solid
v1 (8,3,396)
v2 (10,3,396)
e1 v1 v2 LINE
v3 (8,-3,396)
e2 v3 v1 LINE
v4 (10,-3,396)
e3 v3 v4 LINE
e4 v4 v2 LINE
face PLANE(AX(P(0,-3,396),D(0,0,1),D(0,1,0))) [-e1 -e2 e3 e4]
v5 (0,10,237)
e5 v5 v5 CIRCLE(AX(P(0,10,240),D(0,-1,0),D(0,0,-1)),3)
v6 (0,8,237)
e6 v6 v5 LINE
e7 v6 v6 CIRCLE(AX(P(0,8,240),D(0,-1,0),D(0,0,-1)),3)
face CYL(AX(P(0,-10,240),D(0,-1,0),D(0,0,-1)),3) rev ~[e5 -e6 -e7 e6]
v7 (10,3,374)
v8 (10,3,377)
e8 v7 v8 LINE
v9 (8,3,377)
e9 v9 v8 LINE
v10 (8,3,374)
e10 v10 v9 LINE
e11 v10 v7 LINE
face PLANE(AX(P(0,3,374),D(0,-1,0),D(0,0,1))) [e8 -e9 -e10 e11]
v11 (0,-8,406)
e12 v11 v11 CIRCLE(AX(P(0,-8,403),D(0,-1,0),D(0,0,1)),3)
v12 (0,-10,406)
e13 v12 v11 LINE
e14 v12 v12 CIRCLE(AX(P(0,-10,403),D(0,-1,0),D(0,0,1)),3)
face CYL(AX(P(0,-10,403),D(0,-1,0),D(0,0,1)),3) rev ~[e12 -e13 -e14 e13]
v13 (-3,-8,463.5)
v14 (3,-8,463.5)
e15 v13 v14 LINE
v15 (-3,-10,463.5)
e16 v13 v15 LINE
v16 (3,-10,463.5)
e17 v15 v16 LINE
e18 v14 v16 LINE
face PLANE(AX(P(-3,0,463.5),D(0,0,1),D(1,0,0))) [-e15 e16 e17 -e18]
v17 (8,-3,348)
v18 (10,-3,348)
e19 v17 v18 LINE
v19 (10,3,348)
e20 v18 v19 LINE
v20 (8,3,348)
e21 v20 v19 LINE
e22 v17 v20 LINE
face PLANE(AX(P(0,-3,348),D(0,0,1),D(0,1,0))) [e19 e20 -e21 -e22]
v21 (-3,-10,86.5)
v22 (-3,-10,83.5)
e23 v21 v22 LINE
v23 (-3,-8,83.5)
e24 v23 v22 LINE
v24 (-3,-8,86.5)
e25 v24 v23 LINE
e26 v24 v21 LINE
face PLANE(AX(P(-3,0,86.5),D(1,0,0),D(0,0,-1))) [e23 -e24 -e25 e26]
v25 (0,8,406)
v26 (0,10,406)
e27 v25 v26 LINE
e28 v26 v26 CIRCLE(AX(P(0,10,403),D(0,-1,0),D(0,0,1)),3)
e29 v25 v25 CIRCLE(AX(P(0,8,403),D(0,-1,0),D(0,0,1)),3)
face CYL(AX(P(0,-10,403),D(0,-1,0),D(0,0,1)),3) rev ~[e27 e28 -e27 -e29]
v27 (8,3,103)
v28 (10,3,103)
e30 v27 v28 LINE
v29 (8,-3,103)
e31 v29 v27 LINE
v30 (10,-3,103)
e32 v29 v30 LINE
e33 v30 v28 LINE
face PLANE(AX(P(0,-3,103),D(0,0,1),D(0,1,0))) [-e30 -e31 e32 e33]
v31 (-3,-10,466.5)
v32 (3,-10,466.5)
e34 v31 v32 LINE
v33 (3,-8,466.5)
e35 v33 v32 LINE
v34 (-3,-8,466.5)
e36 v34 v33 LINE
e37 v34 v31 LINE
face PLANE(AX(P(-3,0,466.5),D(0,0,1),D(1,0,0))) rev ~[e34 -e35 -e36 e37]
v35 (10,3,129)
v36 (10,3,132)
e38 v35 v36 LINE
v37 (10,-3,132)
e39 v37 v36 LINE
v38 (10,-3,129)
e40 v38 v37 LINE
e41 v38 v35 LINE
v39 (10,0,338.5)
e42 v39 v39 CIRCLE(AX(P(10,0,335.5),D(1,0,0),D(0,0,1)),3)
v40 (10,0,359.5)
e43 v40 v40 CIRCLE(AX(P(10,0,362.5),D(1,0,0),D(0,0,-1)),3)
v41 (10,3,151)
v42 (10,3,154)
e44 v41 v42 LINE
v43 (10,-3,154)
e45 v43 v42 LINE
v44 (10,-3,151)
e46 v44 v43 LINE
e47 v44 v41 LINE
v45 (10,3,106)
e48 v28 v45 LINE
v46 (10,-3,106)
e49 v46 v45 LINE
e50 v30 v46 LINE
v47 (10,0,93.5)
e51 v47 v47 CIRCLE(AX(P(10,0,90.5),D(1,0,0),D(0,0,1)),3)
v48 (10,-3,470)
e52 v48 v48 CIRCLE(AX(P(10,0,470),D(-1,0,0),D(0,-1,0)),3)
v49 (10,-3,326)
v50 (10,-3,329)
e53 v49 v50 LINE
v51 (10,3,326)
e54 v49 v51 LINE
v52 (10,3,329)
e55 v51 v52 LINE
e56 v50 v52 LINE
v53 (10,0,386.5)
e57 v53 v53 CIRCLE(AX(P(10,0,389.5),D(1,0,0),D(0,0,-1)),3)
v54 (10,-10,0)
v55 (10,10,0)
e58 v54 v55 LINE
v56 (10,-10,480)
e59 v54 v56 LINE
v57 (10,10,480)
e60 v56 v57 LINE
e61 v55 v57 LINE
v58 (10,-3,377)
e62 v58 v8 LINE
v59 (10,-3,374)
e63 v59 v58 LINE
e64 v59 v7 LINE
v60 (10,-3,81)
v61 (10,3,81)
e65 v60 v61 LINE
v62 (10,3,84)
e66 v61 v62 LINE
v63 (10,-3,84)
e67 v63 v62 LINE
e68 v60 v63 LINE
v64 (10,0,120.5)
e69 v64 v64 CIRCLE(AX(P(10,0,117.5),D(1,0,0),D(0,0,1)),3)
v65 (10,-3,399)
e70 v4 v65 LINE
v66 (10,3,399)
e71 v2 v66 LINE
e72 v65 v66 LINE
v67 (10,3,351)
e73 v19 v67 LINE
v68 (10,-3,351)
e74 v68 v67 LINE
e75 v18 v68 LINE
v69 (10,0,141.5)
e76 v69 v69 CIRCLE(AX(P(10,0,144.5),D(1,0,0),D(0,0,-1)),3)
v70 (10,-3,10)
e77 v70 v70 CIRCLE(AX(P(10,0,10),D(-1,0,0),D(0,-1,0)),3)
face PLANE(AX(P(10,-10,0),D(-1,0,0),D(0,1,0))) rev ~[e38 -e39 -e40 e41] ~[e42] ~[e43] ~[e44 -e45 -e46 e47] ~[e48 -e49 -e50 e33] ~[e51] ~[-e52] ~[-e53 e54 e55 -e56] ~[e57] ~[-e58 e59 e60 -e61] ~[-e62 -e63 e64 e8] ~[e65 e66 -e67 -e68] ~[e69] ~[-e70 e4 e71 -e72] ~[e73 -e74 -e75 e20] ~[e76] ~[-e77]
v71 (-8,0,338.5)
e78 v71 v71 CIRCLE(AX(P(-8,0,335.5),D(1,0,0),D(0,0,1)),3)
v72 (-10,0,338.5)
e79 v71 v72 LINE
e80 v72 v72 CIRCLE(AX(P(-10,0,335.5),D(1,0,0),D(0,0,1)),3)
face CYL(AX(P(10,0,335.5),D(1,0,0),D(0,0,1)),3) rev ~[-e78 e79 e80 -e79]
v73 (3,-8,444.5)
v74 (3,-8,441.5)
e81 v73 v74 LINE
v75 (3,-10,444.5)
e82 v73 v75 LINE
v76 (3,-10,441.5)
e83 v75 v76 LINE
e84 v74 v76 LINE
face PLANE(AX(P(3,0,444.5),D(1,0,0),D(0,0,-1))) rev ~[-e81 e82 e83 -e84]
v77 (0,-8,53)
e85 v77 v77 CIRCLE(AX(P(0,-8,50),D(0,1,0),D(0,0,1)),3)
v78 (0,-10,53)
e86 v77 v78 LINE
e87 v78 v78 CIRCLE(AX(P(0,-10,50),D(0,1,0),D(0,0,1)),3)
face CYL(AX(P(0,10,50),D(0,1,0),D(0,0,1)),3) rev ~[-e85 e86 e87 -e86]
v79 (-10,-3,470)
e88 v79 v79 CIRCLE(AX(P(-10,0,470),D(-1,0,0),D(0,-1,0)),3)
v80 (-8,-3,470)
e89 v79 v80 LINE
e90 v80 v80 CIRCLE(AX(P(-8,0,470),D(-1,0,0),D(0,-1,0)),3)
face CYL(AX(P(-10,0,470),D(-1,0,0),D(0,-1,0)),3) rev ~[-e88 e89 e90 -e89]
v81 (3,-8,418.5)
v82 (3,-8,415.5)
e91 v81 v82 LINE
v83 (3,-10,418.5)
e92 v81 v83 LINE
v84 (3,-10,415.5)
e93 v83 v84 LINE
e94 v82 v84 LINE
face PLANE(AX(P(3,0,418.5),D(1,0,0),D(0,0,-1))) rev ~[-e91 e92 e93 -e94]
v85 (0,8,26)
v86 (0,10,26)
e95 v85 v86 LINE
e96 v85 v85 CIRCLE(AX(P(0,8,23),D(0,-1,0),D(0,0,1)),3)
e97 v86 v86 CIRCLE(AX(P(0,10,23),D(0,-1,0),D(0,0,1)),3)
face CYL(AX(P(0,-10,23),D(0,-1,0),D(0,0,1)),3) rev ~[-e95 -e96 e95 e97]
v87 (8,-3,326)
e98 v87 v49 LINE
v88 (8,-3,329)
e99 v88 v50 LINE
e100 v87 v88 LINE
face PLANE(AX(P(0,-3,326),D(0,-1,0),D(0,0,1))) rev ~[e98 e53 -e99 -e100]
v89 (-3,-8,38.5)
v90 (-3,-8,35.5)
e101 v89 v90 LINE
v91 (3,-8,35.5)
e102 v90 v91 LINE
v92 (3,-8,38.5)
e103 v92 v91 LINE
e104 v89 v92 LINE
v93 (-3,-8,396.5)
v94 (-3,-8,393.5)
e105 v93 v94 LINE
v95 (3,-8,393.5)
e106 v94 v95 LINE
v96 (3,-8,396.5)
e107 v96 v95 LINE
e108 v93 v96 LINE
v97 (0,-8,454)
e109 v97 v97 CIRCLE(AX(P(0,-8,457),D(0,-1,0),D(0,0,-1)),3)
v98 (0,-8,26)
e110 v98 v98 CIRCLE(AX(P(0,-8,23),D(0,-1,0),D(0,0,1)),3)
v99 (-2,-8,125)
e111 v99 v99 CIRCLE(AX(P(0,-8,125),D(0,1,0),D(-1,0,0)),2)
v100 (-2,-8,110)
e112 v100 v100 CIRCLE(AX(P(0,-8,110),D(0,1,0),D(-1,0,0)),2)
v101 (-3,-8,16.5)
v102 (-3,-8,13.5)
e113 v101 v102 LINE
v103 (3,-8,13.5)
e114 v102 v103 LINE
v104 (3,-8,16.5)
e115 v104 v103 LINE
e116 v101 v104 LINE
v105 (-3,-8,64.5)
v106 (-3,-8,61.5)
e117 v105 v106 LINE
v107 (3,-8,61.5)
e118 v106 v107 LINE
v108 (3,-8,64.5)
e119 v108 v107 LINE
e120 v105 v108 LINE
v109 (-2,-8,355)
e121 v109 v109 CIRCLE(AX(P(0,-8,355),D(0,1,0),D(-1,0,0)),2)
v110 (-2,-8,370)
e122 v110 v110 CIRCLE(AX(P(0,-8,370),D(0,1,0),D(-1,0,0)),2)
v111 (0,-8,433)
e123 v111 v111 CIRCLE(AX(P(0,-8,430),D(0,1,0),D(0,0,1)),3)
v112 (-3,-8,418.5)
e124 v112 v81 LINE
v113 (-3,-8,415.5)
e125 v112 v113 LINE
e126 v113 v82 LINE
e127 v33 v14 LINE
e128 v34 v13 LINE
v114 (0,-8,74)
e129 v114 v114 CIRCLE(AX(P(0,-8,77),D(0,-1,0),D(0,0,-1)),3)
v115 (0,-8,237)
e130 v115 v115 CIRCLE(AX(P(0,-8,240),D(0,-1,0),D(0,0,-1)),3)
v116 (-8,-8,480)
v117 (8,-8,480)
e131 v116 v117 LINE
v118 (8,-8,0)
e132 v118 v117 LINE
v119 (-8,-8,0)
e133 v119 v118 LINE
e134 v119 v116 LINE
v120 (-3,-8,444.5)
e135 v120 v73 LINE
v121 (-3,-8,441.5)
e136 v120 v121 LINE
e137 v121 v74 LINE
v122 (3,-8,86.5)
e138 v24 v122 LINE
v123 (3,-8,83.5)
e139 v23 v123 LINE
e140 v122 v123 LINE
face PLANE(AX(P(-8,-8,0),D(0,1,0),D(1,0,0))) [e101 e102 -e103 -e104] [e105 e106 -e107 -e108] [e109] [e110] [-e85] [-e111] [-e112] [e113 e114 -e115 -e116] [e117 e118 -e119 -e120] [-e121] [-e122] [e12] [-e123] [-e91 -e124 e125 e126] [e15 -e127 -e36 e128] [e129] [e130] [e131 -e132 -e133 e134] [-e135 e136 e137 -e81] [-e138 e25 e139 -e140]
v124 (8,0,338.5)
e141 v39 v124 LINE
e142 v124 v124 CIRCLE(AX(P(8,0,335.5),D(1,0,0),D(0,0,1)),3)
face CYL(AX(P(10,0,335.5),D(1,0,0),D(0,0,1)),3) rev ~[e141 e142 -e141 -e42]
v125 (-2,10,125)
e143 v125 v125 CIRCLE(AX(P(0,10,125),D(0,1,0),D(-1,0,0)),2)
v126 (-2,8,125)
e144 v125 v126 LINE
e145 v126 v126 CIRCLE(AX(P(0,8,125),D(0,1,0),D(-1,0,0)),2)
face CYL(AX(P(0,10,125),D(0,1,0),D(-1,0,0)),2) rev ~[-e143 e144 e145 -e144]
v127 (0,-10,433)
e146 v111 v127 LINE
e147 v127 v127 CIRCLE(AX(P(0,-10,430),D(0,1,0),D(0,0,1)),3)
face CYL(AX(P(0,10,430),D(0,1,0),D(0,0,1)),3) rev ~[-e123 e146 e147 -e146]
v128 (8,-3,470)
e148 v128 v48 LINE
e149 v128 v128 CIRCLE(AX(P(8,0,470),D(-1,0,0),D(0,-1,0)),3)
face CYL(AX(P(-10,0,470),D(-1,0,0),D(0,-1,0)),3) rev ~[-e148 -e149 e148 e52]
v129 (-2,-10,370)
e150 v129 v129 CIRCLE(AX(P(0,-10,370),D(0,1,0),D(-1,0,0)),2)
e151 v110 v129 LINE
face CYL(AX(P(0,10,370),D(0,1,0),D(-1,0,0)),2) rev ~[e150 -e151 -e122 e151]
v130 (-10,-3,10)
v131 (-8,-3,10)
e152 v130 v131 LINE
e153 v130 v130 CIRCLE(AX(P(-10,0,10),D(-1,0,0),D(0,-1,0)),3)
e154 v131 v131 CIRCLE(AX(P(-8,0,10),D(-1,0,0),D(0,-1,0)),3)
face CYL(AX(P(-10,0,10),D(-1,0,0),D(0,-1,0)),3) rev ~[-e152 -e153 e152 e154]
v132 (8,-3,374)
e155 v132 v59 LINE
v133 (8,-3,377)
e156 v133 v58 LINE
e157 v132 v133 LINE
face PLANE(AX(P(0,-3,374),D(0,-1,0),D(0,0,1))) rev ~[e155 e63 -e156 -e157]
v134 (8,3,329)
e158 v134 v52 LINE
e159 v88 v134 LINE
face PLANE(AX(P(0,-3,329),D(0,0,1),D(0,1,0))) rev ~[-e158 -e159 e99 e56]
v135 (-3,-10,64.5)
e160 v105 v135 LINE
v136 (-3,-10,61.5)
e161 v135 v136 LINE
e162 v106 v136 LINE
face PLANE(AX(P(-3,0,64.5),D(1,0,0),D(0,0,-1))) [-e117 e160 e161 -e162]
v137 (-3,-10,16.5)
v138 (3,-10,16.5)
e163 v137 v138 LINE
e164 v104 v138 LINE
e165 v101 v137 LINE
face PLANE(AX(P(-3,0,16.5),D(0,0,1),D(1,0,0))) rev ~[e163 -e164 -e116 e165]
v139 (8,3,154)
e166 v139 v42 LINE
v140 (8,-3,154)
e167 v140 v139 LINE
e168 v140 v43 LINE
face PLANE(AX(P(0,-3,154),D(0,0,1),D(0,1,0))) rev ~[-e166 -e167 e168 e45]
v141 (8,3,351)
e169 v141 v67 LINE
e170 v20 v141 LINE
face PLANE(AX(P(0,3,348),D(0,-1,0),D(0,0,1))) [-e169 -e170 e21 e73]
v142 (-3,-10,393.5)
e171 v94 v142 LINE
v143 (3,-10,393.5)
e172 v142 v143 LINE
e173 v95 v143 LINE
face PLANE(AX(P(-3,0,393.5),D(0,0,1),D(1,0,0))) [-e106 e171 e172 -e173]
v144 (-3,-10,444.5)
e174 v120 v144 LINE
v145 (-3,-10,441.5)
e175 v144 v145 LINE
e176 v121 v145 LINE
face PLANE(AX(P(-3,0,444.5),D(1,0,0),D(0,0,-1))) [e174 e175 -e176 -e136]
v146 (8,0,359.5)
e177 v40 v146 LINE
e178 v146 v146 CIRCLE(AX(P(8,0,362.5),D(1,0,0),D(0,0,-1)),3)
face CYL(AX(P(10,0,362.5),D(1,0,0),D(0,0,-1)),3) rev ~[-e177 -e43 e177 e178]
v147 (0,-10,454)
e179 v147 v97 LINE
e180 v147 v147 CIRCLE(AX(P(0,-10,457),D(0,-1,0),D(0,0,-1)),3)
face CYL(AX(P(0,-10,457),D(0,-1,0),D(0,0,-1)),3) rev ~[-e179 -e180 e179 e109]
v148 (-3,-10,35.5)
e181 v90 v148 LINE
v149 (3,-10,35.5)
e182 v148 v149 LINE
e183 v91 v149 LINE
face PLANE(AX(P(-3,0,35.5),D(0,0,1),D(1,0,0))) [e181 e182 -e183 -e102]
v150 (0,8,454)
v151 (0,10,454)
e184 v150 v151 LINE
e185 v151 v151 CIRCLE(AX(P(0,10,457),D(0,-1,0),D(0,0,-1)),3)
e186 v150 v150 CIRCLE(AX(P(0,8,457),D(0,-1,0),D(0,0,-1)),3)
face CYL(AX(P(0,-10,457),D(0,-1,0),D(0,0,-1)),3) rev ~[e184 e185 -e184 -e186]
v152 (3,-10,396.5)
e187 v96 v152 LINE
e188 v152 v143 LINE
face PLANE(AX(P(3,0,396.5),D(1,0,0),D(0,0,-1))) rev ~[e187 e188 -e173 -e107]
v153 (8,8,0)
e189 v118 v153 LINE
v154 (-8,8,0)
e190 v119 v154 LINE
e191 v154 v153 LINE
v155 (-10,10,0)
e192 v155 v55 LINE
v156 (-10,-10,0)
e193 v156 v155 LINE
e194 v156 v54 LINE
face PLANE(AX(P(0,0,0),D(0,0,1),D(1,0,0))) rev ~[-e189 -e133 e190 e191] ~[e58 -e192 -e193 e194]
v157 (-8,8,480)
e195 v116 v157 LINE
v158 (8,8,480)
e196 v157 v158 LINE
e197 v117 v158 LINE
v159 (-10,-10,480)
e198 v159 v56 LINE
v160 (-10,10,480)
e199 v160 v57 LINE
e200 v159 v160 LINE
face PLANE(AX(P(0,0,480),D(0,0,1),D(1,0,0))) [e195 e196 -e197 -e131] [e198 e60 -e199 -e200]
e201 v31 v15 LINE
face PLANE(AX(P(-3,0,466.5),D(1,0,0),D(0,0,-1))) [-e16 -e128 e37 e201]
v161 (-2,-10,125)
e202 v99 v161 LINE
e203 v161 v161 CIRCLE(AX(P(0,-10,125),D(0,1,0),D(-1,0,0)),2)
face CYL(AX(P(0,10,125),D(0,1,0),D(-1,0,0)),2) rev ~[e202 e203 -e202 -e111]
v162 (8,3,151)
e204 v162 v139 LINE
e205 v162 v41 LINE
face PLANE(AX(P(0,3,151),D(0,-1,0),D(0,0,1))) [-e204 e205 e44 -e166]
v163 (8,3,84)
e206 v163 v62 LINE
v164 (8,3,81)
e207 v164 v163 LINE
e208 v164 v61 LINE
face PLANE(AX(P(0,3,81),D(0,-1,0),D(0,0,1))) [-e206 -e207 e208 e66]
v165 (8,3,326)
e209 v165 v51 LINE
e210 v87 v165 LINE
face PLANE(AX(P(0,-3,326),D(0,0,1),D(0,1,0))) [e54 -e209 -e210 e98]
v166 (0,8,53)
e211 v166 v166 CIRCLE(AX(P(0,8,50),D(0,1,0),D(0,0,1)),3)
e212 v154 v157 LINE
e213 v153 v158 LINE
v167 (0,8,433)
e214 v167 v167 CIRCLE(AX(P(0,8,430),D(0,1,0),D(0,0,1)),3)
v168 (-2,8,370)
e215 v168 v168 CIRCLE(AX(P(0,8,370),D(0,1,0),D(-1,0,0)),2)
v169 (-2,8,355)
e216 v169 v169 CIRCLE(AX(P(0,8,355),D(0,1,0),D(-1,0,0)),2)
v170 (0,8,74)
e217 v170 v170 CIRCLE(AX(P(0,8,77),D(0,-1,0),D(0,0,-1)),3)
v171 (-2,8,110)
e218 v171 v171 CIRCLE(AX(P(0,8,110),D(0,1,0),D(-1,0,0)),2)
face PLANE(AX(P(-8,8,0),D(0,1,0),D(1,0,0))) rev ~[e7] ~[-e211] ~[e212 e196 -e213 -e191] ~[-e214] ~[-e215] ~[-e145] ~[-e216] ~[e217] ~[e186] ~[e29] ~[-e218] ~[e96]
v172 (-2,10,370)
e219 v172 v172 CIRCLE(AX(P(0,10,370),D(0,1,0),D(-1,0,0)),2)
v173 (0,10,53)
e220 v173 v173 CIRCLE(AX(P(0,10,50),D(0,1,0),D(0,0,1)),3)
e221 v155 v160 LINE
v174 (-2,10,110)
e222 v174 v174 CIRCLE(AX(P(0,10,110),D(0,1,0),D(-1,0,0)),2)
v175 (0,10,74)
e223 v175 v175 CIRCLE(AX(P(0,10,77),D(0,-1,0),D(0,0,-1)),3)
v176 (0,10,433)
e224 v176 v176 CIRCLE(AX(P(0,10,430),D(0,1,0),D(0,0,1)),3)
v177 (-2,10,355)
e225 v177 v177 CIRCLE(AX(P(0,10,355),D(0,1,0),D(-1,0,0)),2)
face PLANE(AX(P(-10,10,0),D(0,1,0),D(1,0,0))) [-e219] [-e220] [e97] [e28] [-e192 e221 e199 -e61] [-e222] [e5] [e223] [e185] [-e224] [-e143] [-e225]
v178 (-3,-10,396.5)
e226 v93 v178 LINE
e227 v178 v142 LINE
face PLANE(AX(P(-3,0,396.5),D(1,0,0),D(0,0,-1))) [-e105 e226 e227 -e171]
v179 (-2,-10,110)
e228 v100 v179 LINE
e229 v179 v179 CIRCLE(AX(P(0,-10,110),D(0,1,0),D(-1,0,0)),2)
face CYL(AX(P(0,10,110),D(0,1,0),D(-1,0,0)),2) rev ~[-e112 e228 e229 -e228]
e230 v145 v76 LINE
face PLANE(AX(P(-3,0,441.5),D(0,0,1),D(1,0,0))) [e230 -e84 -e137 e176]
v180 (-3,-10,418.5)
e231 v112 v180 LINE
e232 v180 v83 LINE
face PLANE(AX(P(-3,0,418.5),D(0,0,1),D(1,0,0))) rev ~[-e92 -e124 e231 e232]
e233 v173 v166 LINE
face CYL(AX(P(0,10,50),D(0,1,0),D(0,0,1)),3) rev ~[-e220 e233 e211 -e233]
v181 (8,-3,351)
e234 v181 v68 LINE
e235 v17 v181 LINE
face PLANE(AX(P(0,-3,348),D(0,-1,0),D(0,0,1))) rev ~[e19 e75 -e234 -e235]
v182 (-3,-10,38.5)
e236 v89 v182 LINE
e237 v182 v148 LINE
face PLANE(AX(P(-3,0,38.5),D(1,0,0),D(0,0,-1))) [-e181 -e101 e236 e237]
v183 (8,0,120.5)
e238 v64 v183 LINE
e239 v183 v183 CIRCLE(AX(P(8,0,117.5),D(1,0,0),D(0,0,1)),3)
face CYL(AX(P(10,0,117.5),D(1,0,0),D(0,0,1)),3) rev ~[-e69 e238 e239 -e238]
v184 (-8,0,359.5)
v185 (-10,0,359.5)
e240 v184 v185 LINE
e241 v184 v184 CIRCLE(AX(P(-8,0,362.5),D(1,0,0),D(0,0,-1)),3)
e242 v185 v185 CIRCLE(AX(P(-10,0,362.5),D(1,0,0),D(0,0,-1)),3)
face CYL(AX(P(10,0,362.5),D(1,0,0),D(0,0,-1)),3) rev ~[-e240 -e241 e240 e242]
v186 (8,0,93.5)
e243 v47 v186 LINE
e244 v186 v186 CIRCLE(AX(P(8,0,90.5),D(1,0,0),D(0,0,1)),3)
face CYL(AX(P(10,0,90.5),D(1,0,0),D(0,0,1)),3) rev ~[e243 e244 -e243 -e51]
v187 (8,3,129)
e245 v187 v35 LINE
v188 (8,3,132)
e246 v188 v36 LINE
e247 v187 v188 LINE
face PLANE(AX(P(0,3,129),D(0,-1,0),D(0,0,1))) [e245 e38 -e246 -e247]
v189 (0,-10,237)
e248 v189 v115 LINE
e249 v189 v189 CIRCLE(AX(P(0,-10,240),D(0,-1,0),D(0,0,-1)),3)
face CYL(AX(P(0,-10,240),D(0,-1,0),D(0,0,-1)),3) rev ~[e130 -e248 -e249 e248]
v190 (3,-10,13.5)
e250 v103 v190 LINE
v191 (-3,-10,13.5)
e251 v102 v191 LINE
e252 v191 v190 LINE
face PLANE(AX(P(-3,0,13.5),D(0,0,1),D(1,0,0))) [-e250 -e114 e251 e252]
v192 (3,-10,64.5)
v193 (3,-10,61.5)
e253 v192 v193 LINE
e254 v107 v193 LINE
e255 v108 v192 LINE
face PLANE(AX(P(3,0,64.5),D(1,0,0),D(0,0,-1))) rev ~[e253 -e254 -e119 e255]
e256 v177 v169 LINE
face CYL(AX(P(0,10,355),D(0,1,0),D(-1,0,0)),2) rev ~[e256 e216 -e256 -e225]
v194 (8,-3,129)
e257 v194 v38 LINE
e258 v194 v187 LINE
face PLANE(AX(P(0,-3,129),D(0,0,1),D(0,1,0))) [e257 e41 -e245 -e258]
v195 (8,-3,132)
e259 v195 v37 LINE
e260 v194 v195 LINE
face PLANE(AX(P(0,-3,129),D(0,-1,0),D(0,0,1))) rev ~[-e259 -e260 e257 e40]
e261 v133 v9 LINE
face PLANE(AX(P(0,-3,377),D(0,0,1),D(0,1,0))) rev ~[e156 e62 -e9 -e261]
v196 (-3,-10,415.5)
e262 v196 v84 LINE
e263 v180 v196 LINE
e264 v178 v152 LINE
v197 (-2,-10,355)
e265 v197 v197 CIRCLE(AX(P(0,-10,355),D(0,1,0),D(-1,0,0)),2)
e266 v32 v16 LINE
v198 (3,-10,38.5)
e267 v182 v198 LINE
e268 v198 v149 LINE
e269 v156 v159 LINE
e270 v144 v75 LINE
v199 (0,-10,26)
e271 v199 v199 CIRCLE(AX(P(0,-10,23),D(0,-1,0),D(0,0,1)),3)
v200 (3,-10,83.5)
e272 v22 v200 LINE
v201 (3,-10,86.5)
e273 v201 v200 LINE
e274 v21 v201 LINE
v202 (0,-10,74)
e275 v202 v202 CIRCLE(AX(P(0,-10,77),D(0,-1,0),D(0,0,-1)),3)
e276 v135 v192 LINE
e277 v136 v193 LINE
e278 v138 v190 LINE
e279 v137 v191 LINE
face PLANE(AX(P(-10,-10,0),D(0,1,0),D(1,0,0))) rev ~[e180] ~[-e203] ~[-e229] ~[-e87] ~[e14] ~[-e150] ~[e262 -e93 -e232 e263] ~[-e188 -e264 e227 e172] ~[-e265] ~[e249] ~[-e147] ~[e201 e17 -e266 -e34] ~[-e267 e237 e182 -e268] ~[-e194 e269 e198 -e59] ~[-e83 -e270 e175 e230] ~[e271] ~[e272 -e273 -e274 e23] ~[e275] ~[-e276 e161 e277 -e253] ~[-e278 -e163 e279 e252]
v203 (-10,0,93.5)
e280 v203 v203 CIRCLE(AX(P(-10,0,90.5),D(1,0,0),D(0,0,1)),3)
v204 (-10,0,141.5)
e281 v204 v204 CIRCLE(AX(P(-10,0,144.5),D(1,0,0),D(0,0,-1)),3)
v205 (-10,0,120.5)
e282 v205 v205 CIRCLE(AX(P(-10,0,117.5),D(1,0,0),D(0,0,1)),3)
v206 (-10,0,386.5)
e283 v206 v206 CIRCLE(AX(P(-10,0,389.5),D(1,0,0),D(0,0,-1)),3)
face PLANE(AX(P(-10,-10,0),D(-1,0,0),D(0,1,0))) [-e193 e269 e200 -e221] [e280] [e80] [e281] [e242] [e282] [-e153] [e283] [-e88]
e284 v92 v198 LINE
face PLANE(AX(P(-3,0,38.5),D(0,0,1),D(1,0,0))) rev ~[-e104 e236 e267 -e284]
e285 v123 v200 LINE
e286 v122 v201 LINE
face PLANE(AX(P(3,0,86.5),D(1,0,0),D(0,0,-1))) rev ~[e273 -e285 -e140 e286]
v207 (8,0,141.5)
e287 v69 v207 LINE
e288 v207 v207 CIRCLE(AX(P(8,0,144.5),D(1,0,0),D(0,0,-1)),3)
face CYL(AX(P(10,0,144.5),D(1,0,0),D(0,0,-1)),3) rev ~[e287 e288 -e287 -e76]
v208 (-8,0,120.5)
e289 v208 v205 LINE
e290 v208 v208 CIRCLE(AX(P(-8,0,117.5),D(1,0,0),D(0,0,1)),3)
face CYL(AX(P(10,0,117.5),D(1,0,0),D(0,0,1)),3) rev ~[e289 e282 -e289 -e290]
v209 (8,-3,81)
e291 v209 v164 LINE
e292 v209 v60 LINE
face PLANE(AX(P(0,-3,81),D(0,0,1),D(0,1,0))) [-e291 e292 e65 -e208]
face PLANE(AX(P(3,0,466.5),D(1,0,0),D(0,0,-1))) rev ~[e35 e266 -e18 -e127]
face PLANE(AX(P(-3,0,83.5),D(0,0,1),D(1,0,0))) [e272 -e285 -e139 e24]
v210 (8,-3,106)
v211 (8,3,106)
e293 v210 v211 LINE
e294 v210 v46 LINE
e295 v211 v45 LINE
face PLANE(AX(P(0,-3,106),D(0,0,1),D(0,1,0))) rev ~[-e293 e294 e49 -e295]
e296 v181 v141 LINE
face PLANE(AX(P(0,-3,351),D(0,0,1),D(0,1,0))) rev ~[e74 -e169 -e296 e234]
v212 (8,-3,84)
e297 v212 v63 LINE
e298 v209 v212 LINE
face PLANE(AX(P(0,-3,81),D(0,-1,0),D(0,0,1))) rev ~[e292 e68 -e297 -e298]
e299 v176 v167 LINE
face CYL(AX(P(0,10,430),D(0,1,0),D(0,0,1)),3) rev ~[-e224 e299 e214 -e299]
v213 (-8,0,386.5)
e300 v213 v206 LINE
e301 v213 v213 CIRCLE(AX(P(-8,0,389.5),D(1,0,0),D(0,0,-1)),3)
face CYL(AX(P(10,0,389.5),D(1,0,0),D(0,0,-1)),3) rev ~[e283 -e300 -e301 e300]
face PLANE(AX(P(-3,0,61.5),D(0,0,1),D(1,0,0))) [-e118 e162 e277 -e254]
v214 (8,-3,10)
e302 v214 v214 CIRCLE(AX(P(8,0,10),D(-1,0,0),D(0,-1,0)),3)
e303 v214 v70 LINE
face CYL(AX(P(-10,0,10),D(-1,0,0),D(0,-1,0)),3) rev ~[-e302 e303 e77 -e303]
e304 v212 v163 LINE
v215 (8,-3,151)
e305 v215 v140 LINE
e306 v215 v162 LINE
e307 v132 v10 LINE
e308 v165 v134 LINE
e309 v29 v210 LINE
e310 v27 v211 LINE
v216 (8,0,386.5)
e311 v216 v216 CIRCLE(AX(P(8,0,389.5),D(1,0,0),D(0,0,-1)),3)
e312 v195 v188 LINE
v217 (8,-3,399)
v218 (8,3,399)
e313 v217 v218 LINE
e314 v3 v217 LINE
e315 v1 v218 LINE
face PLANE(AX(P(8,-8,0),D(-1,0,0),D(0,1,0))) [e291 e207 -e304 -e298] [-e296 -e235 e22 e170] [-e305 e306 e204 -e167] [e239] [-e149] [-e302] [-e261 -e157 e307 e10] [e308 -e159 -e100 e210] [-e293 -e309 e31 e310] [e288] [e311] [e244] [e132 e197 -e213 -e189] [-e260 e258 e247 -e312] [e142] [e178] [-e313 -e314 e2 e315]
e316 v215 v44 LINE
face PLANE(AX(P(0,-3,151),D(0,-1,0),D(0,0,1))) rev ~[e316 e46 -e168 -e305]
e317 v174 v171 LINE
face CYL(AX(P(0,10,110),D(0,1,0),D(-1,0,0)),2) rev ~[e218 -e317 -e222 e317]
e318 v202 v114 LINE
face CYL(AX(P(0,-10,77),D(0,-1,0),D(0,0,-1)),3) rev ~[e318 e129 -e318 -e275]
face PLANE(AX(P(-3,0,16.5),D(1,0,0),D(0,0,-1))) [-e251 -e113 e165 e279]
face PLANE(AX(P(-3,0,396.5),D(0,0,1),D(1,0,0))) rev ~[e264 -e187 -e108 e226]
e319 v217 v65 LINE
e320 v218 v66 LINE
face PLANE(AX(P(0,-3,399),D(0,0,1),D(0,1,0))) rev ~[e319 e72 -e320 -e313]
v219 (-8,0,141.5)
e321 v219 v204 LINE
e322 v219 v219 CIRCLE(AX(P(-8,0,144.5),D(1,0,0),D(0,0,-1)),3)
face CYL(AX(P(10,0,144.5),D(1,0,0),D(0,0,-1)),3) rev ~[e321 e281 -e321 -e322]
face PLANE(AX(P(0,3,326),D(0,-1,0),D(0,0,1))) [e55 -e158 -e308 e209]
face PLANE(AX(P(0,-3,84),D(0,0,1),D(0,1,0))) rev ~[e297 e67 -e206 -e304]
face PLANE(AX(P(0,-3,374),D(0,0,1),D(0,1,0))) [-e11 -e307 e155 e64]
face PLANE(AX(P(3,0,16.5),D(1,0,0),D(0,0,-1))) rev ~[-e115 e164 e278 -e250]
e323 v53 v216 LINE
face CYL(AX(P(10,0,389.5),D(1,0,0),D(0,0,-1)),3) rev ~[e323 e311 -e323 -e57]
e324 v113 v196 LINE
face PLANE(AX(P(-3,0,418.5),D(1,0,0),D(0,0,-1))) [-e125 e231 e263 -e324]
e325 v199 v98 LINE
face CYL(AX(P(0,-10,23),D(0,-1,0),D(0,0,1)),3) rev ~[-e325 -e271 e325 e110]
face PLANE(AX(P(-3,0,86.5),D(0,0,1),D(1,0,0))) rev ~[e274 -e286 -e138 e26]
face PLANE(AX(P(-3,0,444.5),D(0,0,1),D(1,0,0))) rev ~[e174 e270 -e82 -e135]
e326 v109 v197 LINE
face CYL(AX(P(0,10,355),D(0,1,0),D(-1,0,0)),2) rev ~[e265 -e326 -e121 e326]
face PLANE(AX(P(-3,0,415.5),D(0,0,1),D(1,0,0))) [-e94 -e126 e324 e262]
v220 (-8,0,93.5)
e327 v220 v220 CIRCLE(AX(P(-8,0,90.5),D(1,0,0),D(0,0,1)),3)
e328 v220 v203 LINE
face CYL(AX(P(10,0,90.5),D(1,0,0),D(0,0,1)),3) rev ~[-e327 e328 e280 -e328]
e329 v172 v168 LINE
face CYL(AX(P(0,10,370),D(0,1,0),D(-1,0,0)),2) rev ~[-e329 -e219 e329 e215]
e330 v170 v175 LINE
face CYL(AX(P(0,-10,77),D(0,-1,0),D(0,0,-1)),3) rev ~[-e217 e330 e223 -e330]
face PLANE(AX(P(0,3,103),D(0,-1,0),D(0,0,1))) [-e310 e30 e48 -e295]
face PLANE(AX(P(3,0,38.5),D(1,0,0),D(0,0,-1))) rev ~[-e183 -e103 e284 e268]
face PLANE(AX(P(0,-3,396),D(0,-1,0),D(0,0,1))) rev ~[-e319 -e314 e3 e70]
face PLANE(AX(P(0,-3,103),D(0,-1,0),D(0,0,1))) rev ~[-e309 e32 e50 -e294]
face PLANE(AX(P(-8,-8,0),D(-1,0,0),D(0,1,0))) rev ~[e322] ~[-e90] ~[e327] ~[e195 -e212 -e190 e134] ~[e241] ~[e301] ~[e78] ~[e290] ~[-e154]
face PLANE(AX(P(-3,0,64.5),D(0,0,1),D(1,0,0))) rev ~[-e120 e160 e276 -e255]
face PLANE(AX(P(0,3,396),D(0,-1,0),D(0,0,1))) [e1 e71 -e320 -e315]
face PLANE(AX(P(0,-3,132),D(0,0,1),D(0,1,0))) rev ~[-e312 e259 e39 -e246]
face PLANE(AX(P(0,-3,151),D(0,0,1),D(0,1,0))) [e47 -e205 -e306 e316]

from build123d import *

# Parameters (mm, degrees)
SKETCH_1_W           = 20
SKETCH_1_H           = 20
SKETCH_1_W_2         = 16
SKETCH_1_H_2         = 16
EXTRUDE_1_DEPTH      = 480
SKETCH_2_R           = 3
CUT_EXTRUDE_1_DEPTH  = 450
SKETCH_3_R           = 3
CUT_EXTRUDE_2_DEPTH  = 10
SKETCH_4_R           = 3
CUT_EXTRUDE_3_DEPTH  = 85
SKETCH_5_R           = 3
CUT_EXTRUDE_4_DEPTH  = 10
SKETCH_6_R           = 3
CUT_EXTRUDE_5_DEPTH  = 27
SKETCH_8_R           = 3
CUT_EXTRUDE_6_DEPTH  = 54.24
SKETCH_9_R           = 3
CUT_EXTRUDE_7_DEPTH  = 54.24
CUT_EXTRUDE_START    = -10
SKETCH_10_W          = 6
SKETCH_10_H          = 3
CUT_EXTRUDE_8_DEPTH  = 20
SKETCH_11_W          = 3
SKETCH_11_H          = 6
CUT_EXTRUDE_9_DEPTH  = 20
SKETCH_12_R          = 2
CUT_EXTRUDE_10_DEPTH = 20


with BuildPart() as part:
    # 草图1 → 凸台-拉伸1 (new body)
    with BuildSketch(Plane.XY):
        Rectangle(SKETCH_1_W, SKETCH_1_H)
        Rectangle(SKETCH_1_W_2, SKETCH_1_H_2, mode=Mode.SUBTRACT)
    extrude(amount=EXTRUDE_1_DEPTH)

    # 草图2 → 切除-拉伸1 (cut)
    with BuildSketch(Plane(origin=(0, 10, 0), x_dir=(1, 0, 0), z_dir=(0, 1, 0))):
        with Locations(Location((0, -50, 0), (0, 0, 270))):
            Circle(SKETCH_2_R)
        with Locations(Location((0, -430, 0), (0, 0, 270))):
            Circle(SKETCH_2_R)
    extrude(amount=-CUT_EXTRUDE_1_DEPTH, mode=Mode.SUBTRACT)

    # 草图3 → 切除-拉伸2 (cut)
    with BuildSketch(Plane.XZ.offset(10)):
        with Locations(Location((0, 77, 0), (0, 0, 270))):
            Circle(SKETCH_3_R)
        with Locations(Location((0, 23, 0), (0, 0, 90))):
            Circle(SKETCH_3_R)
        with Locations(Location((0, 457, 0), (0, 0, 270))):
            Circle(SKETCH_3_R)
        with Locations(Location((0, 403, 0), (0, 0, 90))):
            Circle(SKETCH_3_R)
    extrude(amount=-CUT_EXTRUDE_2_DEPTH, mode=Mode.SUBTRACT)

    # 草图4 → 切除-拉伸3 (cut)
    with BuildSketch(Plane.XZ.offset(10)):
        with Locations(Location((0, 403, 0), (0, 0, 90))):
            Circle(SKETCH_4_R)
        with Locations(Location((0, 457, 0), (0, 0, 270))):
            Circle(SKETCH_4_R)
        with Locations(Location((0, 77, 0), (0, 0, 270))):
            Circle(SKETCH_4_R)
        with Locations(Location((0, 23, 0), (0, 0, 90))):
            Circle(SKETCH_4_R)
    extrude(amount=-CUT_EXTRUDE_3_DEPTH, mode=Mode.SUBTRACT)

    # 草图5 → 切除-拉伸4 (cut)
    with BuildSketch(Plane(origin=(10, 0, 0), x_dir=(0, 0, -1), z_dir=(1, 0, 0))):
        with Locations((-362.5, 0)):
            Circle(SKETCH_5_R)
        with Locations((-389.5, 0)):
            Circle(SKETCH_5_R)
        with Locations(Location((-335.5, 0, 0), (0, 0, 180))):
            Circle(SKETCH_5_R)
        with Locations((-144.5, 0)):
            Circle(SKETCH_5_R)
        with Locations(Location((-90.5, 0, 0), (0, 0, 180))):
            Circle(SKETCH_5_R)
        with Locations(Location((-117.5, 0, 0), (0, 0, 180))):
            Circle(SKETCH_5_R)
    extrude(amount=-CUT_EXTRUDE_4_DEPTH, mode=Mode.SUBTRACT)

    # 草图6 → 切除-拉伸5 (cut)
    with BuildSketch(Plane(origin=(10, 0, 0), x_dir=(0, 0, -1), z_dir=(1, 0, 0))):
        with Locations(Location((-335.5, 0, 0), (0, 0, 180))):
            Circle(SKETCH_6_R)
        with Locations((-362.5, 0)):
            Circle(SKETCH_6_R)
        with Locations((-389.5, 0)):
            Circle(SKETCH_6_R)
        with Locations(Location((-90.5, 0, 0), (0, 0, 180))):
            Circle(SKETCH_6_R)
        with Locations(Location((-117.5, 0, 0), (0, 0, 180))):
            Circle(SKETCH_6_R)
        with Locations((-144.5, 0)):
            Circle(SKETCH_6_R)
    extrude(amount=-CUT_EXTRUDE_5_DEPTH, mode=Mode.SUBTRACT)

    # 草图8 → 切除-拉伸6 (cut)
    with BuildSketch(Plane.ZY.offset(10)):
        with Locations(Location((10, 0, 0), (0, 0, 270))):
            Circle(SKETCH_8_R)
        with Locations(Location((470, 0, 0), (0, 0, 270))):
            Circle(SKETCH_8_R)
    extrude(amount=-CUT_EXTRUDE_6_DEPTH, mode=Mode.SUBTRACT)

    # 草图9 → 切除-拉伸7 (cut)
    with BuildSketch(Plane.XZ.offset(10)):
        with Locations(Location((0, 240, 0), (0, 0, 270))):
            Circle(SKETCH_9_R)
    extrude(amount=-CUT_EXTRUDE_7_DEPTH, mode=Mode.SUBTRACT)

    # 草图10 → 切除-拉伸8 (cut)
    with BuildSketch(Plane(origin=(0, 10, 0), x_dir=(1, 0, 0), z_dir=(0, 1, 0)).offset(CUT_EXTRUDE_START)):
        with Locations((0, -15)):
            Rectangle(SKETCH_10_W, SKETCH_10_H)
        with Locations((0, -37)):
            Rectangle(SKETCH_10_W, SKETCH_10_H)
        with Locations((0, -85)):
            Rectangle(SKETCH_10_W, SKETCH_10_H)
        with Locations((0, -63)):
            Rectangle(SKETCH_10_W, SKETCH_10_H)
        with Locations((0, -465)):
            Rectangle(SKETCH_10_W, SKETCH_10_H)
        with Locations((0, -443)):
            Rectangle(SKETCH_10_W, SKETCH_10_H)
        with Locations((0, -417)):
            Rectangle(SKETCH_10_W, SKETCH_10_H)
        with Locations((0, -395)):
            Rectangle(SKETCH_10_W, SKETCH_10_H)
    extrude(amount=-CUT_EXTRUDE_8_DEPTH, mode=Mode.SUBTRACT)

    # 草图11 → 切除-拉伸9 (cut)
    with BuildSketch(Plane.ZY.offset(10).offset(CUT_EXTRUDE_START)):
        with Locations((349.5, 0)):
            Rectangle(SKETCH_11_W, SKETCH_11_H)
        with Locations((327.5, 0)):
            Rectangle(SKETCH_11_W, SKETCH_11_H)
        with Locations((375.5, 0)):
            Rectangle(SKETCH_11_W, SKETCH_11_H)
        with Locations((397.5, 0)):
            Rectangle(SKETCH_11_W, SKETCH_11_H)
        with Locations((82.5, 0)):
            Rectangle(SKETCH_11_W, SKETCH_11_H)
        with Locations((104.5, 0)):
            Rectangle(SKETCH_11_W, SKETCH_11_H)
        with Locations((130.5, 0)):
            Rectangle(SKETCH_11_W, SKETCH_11_H)
        with Locations((152.5, 0)):
            Rectangle(SKETCH_11_W, SKETCH_11_H)
    extrude(amount=-CUT_EXTRUDE_9_DEPTH, mode=Mode.SUBTRACT)

    # 草图12 → 切除-拉伸10 (cut)
    with BuildSketch(Plane(origin=(0, 10, 0), x_dir=(1, 0, 0), z_dir=(0, 1, 0))):
        with Locations(Location((0, -355, 0), (0, 0, 180))):
            Circle(SKETCH_12_R)
        with Locations(Location((0, -370, 0), (0, 0, 180))):
            Circle(SKETCH_12_R)
        with Locations(Location((0, -110, 0), (0, 0, 180))):
            Circle(SKETCH_12_R)
        with Locations(Location((0, -125, 0), (0, 0, 180))):
            Circle(SKETCH_12_R)
    extrude(amount=-CUT_EXTRUDE_10_DEPTH, mode=Mode.SUBTRACT)


solid = part.part
